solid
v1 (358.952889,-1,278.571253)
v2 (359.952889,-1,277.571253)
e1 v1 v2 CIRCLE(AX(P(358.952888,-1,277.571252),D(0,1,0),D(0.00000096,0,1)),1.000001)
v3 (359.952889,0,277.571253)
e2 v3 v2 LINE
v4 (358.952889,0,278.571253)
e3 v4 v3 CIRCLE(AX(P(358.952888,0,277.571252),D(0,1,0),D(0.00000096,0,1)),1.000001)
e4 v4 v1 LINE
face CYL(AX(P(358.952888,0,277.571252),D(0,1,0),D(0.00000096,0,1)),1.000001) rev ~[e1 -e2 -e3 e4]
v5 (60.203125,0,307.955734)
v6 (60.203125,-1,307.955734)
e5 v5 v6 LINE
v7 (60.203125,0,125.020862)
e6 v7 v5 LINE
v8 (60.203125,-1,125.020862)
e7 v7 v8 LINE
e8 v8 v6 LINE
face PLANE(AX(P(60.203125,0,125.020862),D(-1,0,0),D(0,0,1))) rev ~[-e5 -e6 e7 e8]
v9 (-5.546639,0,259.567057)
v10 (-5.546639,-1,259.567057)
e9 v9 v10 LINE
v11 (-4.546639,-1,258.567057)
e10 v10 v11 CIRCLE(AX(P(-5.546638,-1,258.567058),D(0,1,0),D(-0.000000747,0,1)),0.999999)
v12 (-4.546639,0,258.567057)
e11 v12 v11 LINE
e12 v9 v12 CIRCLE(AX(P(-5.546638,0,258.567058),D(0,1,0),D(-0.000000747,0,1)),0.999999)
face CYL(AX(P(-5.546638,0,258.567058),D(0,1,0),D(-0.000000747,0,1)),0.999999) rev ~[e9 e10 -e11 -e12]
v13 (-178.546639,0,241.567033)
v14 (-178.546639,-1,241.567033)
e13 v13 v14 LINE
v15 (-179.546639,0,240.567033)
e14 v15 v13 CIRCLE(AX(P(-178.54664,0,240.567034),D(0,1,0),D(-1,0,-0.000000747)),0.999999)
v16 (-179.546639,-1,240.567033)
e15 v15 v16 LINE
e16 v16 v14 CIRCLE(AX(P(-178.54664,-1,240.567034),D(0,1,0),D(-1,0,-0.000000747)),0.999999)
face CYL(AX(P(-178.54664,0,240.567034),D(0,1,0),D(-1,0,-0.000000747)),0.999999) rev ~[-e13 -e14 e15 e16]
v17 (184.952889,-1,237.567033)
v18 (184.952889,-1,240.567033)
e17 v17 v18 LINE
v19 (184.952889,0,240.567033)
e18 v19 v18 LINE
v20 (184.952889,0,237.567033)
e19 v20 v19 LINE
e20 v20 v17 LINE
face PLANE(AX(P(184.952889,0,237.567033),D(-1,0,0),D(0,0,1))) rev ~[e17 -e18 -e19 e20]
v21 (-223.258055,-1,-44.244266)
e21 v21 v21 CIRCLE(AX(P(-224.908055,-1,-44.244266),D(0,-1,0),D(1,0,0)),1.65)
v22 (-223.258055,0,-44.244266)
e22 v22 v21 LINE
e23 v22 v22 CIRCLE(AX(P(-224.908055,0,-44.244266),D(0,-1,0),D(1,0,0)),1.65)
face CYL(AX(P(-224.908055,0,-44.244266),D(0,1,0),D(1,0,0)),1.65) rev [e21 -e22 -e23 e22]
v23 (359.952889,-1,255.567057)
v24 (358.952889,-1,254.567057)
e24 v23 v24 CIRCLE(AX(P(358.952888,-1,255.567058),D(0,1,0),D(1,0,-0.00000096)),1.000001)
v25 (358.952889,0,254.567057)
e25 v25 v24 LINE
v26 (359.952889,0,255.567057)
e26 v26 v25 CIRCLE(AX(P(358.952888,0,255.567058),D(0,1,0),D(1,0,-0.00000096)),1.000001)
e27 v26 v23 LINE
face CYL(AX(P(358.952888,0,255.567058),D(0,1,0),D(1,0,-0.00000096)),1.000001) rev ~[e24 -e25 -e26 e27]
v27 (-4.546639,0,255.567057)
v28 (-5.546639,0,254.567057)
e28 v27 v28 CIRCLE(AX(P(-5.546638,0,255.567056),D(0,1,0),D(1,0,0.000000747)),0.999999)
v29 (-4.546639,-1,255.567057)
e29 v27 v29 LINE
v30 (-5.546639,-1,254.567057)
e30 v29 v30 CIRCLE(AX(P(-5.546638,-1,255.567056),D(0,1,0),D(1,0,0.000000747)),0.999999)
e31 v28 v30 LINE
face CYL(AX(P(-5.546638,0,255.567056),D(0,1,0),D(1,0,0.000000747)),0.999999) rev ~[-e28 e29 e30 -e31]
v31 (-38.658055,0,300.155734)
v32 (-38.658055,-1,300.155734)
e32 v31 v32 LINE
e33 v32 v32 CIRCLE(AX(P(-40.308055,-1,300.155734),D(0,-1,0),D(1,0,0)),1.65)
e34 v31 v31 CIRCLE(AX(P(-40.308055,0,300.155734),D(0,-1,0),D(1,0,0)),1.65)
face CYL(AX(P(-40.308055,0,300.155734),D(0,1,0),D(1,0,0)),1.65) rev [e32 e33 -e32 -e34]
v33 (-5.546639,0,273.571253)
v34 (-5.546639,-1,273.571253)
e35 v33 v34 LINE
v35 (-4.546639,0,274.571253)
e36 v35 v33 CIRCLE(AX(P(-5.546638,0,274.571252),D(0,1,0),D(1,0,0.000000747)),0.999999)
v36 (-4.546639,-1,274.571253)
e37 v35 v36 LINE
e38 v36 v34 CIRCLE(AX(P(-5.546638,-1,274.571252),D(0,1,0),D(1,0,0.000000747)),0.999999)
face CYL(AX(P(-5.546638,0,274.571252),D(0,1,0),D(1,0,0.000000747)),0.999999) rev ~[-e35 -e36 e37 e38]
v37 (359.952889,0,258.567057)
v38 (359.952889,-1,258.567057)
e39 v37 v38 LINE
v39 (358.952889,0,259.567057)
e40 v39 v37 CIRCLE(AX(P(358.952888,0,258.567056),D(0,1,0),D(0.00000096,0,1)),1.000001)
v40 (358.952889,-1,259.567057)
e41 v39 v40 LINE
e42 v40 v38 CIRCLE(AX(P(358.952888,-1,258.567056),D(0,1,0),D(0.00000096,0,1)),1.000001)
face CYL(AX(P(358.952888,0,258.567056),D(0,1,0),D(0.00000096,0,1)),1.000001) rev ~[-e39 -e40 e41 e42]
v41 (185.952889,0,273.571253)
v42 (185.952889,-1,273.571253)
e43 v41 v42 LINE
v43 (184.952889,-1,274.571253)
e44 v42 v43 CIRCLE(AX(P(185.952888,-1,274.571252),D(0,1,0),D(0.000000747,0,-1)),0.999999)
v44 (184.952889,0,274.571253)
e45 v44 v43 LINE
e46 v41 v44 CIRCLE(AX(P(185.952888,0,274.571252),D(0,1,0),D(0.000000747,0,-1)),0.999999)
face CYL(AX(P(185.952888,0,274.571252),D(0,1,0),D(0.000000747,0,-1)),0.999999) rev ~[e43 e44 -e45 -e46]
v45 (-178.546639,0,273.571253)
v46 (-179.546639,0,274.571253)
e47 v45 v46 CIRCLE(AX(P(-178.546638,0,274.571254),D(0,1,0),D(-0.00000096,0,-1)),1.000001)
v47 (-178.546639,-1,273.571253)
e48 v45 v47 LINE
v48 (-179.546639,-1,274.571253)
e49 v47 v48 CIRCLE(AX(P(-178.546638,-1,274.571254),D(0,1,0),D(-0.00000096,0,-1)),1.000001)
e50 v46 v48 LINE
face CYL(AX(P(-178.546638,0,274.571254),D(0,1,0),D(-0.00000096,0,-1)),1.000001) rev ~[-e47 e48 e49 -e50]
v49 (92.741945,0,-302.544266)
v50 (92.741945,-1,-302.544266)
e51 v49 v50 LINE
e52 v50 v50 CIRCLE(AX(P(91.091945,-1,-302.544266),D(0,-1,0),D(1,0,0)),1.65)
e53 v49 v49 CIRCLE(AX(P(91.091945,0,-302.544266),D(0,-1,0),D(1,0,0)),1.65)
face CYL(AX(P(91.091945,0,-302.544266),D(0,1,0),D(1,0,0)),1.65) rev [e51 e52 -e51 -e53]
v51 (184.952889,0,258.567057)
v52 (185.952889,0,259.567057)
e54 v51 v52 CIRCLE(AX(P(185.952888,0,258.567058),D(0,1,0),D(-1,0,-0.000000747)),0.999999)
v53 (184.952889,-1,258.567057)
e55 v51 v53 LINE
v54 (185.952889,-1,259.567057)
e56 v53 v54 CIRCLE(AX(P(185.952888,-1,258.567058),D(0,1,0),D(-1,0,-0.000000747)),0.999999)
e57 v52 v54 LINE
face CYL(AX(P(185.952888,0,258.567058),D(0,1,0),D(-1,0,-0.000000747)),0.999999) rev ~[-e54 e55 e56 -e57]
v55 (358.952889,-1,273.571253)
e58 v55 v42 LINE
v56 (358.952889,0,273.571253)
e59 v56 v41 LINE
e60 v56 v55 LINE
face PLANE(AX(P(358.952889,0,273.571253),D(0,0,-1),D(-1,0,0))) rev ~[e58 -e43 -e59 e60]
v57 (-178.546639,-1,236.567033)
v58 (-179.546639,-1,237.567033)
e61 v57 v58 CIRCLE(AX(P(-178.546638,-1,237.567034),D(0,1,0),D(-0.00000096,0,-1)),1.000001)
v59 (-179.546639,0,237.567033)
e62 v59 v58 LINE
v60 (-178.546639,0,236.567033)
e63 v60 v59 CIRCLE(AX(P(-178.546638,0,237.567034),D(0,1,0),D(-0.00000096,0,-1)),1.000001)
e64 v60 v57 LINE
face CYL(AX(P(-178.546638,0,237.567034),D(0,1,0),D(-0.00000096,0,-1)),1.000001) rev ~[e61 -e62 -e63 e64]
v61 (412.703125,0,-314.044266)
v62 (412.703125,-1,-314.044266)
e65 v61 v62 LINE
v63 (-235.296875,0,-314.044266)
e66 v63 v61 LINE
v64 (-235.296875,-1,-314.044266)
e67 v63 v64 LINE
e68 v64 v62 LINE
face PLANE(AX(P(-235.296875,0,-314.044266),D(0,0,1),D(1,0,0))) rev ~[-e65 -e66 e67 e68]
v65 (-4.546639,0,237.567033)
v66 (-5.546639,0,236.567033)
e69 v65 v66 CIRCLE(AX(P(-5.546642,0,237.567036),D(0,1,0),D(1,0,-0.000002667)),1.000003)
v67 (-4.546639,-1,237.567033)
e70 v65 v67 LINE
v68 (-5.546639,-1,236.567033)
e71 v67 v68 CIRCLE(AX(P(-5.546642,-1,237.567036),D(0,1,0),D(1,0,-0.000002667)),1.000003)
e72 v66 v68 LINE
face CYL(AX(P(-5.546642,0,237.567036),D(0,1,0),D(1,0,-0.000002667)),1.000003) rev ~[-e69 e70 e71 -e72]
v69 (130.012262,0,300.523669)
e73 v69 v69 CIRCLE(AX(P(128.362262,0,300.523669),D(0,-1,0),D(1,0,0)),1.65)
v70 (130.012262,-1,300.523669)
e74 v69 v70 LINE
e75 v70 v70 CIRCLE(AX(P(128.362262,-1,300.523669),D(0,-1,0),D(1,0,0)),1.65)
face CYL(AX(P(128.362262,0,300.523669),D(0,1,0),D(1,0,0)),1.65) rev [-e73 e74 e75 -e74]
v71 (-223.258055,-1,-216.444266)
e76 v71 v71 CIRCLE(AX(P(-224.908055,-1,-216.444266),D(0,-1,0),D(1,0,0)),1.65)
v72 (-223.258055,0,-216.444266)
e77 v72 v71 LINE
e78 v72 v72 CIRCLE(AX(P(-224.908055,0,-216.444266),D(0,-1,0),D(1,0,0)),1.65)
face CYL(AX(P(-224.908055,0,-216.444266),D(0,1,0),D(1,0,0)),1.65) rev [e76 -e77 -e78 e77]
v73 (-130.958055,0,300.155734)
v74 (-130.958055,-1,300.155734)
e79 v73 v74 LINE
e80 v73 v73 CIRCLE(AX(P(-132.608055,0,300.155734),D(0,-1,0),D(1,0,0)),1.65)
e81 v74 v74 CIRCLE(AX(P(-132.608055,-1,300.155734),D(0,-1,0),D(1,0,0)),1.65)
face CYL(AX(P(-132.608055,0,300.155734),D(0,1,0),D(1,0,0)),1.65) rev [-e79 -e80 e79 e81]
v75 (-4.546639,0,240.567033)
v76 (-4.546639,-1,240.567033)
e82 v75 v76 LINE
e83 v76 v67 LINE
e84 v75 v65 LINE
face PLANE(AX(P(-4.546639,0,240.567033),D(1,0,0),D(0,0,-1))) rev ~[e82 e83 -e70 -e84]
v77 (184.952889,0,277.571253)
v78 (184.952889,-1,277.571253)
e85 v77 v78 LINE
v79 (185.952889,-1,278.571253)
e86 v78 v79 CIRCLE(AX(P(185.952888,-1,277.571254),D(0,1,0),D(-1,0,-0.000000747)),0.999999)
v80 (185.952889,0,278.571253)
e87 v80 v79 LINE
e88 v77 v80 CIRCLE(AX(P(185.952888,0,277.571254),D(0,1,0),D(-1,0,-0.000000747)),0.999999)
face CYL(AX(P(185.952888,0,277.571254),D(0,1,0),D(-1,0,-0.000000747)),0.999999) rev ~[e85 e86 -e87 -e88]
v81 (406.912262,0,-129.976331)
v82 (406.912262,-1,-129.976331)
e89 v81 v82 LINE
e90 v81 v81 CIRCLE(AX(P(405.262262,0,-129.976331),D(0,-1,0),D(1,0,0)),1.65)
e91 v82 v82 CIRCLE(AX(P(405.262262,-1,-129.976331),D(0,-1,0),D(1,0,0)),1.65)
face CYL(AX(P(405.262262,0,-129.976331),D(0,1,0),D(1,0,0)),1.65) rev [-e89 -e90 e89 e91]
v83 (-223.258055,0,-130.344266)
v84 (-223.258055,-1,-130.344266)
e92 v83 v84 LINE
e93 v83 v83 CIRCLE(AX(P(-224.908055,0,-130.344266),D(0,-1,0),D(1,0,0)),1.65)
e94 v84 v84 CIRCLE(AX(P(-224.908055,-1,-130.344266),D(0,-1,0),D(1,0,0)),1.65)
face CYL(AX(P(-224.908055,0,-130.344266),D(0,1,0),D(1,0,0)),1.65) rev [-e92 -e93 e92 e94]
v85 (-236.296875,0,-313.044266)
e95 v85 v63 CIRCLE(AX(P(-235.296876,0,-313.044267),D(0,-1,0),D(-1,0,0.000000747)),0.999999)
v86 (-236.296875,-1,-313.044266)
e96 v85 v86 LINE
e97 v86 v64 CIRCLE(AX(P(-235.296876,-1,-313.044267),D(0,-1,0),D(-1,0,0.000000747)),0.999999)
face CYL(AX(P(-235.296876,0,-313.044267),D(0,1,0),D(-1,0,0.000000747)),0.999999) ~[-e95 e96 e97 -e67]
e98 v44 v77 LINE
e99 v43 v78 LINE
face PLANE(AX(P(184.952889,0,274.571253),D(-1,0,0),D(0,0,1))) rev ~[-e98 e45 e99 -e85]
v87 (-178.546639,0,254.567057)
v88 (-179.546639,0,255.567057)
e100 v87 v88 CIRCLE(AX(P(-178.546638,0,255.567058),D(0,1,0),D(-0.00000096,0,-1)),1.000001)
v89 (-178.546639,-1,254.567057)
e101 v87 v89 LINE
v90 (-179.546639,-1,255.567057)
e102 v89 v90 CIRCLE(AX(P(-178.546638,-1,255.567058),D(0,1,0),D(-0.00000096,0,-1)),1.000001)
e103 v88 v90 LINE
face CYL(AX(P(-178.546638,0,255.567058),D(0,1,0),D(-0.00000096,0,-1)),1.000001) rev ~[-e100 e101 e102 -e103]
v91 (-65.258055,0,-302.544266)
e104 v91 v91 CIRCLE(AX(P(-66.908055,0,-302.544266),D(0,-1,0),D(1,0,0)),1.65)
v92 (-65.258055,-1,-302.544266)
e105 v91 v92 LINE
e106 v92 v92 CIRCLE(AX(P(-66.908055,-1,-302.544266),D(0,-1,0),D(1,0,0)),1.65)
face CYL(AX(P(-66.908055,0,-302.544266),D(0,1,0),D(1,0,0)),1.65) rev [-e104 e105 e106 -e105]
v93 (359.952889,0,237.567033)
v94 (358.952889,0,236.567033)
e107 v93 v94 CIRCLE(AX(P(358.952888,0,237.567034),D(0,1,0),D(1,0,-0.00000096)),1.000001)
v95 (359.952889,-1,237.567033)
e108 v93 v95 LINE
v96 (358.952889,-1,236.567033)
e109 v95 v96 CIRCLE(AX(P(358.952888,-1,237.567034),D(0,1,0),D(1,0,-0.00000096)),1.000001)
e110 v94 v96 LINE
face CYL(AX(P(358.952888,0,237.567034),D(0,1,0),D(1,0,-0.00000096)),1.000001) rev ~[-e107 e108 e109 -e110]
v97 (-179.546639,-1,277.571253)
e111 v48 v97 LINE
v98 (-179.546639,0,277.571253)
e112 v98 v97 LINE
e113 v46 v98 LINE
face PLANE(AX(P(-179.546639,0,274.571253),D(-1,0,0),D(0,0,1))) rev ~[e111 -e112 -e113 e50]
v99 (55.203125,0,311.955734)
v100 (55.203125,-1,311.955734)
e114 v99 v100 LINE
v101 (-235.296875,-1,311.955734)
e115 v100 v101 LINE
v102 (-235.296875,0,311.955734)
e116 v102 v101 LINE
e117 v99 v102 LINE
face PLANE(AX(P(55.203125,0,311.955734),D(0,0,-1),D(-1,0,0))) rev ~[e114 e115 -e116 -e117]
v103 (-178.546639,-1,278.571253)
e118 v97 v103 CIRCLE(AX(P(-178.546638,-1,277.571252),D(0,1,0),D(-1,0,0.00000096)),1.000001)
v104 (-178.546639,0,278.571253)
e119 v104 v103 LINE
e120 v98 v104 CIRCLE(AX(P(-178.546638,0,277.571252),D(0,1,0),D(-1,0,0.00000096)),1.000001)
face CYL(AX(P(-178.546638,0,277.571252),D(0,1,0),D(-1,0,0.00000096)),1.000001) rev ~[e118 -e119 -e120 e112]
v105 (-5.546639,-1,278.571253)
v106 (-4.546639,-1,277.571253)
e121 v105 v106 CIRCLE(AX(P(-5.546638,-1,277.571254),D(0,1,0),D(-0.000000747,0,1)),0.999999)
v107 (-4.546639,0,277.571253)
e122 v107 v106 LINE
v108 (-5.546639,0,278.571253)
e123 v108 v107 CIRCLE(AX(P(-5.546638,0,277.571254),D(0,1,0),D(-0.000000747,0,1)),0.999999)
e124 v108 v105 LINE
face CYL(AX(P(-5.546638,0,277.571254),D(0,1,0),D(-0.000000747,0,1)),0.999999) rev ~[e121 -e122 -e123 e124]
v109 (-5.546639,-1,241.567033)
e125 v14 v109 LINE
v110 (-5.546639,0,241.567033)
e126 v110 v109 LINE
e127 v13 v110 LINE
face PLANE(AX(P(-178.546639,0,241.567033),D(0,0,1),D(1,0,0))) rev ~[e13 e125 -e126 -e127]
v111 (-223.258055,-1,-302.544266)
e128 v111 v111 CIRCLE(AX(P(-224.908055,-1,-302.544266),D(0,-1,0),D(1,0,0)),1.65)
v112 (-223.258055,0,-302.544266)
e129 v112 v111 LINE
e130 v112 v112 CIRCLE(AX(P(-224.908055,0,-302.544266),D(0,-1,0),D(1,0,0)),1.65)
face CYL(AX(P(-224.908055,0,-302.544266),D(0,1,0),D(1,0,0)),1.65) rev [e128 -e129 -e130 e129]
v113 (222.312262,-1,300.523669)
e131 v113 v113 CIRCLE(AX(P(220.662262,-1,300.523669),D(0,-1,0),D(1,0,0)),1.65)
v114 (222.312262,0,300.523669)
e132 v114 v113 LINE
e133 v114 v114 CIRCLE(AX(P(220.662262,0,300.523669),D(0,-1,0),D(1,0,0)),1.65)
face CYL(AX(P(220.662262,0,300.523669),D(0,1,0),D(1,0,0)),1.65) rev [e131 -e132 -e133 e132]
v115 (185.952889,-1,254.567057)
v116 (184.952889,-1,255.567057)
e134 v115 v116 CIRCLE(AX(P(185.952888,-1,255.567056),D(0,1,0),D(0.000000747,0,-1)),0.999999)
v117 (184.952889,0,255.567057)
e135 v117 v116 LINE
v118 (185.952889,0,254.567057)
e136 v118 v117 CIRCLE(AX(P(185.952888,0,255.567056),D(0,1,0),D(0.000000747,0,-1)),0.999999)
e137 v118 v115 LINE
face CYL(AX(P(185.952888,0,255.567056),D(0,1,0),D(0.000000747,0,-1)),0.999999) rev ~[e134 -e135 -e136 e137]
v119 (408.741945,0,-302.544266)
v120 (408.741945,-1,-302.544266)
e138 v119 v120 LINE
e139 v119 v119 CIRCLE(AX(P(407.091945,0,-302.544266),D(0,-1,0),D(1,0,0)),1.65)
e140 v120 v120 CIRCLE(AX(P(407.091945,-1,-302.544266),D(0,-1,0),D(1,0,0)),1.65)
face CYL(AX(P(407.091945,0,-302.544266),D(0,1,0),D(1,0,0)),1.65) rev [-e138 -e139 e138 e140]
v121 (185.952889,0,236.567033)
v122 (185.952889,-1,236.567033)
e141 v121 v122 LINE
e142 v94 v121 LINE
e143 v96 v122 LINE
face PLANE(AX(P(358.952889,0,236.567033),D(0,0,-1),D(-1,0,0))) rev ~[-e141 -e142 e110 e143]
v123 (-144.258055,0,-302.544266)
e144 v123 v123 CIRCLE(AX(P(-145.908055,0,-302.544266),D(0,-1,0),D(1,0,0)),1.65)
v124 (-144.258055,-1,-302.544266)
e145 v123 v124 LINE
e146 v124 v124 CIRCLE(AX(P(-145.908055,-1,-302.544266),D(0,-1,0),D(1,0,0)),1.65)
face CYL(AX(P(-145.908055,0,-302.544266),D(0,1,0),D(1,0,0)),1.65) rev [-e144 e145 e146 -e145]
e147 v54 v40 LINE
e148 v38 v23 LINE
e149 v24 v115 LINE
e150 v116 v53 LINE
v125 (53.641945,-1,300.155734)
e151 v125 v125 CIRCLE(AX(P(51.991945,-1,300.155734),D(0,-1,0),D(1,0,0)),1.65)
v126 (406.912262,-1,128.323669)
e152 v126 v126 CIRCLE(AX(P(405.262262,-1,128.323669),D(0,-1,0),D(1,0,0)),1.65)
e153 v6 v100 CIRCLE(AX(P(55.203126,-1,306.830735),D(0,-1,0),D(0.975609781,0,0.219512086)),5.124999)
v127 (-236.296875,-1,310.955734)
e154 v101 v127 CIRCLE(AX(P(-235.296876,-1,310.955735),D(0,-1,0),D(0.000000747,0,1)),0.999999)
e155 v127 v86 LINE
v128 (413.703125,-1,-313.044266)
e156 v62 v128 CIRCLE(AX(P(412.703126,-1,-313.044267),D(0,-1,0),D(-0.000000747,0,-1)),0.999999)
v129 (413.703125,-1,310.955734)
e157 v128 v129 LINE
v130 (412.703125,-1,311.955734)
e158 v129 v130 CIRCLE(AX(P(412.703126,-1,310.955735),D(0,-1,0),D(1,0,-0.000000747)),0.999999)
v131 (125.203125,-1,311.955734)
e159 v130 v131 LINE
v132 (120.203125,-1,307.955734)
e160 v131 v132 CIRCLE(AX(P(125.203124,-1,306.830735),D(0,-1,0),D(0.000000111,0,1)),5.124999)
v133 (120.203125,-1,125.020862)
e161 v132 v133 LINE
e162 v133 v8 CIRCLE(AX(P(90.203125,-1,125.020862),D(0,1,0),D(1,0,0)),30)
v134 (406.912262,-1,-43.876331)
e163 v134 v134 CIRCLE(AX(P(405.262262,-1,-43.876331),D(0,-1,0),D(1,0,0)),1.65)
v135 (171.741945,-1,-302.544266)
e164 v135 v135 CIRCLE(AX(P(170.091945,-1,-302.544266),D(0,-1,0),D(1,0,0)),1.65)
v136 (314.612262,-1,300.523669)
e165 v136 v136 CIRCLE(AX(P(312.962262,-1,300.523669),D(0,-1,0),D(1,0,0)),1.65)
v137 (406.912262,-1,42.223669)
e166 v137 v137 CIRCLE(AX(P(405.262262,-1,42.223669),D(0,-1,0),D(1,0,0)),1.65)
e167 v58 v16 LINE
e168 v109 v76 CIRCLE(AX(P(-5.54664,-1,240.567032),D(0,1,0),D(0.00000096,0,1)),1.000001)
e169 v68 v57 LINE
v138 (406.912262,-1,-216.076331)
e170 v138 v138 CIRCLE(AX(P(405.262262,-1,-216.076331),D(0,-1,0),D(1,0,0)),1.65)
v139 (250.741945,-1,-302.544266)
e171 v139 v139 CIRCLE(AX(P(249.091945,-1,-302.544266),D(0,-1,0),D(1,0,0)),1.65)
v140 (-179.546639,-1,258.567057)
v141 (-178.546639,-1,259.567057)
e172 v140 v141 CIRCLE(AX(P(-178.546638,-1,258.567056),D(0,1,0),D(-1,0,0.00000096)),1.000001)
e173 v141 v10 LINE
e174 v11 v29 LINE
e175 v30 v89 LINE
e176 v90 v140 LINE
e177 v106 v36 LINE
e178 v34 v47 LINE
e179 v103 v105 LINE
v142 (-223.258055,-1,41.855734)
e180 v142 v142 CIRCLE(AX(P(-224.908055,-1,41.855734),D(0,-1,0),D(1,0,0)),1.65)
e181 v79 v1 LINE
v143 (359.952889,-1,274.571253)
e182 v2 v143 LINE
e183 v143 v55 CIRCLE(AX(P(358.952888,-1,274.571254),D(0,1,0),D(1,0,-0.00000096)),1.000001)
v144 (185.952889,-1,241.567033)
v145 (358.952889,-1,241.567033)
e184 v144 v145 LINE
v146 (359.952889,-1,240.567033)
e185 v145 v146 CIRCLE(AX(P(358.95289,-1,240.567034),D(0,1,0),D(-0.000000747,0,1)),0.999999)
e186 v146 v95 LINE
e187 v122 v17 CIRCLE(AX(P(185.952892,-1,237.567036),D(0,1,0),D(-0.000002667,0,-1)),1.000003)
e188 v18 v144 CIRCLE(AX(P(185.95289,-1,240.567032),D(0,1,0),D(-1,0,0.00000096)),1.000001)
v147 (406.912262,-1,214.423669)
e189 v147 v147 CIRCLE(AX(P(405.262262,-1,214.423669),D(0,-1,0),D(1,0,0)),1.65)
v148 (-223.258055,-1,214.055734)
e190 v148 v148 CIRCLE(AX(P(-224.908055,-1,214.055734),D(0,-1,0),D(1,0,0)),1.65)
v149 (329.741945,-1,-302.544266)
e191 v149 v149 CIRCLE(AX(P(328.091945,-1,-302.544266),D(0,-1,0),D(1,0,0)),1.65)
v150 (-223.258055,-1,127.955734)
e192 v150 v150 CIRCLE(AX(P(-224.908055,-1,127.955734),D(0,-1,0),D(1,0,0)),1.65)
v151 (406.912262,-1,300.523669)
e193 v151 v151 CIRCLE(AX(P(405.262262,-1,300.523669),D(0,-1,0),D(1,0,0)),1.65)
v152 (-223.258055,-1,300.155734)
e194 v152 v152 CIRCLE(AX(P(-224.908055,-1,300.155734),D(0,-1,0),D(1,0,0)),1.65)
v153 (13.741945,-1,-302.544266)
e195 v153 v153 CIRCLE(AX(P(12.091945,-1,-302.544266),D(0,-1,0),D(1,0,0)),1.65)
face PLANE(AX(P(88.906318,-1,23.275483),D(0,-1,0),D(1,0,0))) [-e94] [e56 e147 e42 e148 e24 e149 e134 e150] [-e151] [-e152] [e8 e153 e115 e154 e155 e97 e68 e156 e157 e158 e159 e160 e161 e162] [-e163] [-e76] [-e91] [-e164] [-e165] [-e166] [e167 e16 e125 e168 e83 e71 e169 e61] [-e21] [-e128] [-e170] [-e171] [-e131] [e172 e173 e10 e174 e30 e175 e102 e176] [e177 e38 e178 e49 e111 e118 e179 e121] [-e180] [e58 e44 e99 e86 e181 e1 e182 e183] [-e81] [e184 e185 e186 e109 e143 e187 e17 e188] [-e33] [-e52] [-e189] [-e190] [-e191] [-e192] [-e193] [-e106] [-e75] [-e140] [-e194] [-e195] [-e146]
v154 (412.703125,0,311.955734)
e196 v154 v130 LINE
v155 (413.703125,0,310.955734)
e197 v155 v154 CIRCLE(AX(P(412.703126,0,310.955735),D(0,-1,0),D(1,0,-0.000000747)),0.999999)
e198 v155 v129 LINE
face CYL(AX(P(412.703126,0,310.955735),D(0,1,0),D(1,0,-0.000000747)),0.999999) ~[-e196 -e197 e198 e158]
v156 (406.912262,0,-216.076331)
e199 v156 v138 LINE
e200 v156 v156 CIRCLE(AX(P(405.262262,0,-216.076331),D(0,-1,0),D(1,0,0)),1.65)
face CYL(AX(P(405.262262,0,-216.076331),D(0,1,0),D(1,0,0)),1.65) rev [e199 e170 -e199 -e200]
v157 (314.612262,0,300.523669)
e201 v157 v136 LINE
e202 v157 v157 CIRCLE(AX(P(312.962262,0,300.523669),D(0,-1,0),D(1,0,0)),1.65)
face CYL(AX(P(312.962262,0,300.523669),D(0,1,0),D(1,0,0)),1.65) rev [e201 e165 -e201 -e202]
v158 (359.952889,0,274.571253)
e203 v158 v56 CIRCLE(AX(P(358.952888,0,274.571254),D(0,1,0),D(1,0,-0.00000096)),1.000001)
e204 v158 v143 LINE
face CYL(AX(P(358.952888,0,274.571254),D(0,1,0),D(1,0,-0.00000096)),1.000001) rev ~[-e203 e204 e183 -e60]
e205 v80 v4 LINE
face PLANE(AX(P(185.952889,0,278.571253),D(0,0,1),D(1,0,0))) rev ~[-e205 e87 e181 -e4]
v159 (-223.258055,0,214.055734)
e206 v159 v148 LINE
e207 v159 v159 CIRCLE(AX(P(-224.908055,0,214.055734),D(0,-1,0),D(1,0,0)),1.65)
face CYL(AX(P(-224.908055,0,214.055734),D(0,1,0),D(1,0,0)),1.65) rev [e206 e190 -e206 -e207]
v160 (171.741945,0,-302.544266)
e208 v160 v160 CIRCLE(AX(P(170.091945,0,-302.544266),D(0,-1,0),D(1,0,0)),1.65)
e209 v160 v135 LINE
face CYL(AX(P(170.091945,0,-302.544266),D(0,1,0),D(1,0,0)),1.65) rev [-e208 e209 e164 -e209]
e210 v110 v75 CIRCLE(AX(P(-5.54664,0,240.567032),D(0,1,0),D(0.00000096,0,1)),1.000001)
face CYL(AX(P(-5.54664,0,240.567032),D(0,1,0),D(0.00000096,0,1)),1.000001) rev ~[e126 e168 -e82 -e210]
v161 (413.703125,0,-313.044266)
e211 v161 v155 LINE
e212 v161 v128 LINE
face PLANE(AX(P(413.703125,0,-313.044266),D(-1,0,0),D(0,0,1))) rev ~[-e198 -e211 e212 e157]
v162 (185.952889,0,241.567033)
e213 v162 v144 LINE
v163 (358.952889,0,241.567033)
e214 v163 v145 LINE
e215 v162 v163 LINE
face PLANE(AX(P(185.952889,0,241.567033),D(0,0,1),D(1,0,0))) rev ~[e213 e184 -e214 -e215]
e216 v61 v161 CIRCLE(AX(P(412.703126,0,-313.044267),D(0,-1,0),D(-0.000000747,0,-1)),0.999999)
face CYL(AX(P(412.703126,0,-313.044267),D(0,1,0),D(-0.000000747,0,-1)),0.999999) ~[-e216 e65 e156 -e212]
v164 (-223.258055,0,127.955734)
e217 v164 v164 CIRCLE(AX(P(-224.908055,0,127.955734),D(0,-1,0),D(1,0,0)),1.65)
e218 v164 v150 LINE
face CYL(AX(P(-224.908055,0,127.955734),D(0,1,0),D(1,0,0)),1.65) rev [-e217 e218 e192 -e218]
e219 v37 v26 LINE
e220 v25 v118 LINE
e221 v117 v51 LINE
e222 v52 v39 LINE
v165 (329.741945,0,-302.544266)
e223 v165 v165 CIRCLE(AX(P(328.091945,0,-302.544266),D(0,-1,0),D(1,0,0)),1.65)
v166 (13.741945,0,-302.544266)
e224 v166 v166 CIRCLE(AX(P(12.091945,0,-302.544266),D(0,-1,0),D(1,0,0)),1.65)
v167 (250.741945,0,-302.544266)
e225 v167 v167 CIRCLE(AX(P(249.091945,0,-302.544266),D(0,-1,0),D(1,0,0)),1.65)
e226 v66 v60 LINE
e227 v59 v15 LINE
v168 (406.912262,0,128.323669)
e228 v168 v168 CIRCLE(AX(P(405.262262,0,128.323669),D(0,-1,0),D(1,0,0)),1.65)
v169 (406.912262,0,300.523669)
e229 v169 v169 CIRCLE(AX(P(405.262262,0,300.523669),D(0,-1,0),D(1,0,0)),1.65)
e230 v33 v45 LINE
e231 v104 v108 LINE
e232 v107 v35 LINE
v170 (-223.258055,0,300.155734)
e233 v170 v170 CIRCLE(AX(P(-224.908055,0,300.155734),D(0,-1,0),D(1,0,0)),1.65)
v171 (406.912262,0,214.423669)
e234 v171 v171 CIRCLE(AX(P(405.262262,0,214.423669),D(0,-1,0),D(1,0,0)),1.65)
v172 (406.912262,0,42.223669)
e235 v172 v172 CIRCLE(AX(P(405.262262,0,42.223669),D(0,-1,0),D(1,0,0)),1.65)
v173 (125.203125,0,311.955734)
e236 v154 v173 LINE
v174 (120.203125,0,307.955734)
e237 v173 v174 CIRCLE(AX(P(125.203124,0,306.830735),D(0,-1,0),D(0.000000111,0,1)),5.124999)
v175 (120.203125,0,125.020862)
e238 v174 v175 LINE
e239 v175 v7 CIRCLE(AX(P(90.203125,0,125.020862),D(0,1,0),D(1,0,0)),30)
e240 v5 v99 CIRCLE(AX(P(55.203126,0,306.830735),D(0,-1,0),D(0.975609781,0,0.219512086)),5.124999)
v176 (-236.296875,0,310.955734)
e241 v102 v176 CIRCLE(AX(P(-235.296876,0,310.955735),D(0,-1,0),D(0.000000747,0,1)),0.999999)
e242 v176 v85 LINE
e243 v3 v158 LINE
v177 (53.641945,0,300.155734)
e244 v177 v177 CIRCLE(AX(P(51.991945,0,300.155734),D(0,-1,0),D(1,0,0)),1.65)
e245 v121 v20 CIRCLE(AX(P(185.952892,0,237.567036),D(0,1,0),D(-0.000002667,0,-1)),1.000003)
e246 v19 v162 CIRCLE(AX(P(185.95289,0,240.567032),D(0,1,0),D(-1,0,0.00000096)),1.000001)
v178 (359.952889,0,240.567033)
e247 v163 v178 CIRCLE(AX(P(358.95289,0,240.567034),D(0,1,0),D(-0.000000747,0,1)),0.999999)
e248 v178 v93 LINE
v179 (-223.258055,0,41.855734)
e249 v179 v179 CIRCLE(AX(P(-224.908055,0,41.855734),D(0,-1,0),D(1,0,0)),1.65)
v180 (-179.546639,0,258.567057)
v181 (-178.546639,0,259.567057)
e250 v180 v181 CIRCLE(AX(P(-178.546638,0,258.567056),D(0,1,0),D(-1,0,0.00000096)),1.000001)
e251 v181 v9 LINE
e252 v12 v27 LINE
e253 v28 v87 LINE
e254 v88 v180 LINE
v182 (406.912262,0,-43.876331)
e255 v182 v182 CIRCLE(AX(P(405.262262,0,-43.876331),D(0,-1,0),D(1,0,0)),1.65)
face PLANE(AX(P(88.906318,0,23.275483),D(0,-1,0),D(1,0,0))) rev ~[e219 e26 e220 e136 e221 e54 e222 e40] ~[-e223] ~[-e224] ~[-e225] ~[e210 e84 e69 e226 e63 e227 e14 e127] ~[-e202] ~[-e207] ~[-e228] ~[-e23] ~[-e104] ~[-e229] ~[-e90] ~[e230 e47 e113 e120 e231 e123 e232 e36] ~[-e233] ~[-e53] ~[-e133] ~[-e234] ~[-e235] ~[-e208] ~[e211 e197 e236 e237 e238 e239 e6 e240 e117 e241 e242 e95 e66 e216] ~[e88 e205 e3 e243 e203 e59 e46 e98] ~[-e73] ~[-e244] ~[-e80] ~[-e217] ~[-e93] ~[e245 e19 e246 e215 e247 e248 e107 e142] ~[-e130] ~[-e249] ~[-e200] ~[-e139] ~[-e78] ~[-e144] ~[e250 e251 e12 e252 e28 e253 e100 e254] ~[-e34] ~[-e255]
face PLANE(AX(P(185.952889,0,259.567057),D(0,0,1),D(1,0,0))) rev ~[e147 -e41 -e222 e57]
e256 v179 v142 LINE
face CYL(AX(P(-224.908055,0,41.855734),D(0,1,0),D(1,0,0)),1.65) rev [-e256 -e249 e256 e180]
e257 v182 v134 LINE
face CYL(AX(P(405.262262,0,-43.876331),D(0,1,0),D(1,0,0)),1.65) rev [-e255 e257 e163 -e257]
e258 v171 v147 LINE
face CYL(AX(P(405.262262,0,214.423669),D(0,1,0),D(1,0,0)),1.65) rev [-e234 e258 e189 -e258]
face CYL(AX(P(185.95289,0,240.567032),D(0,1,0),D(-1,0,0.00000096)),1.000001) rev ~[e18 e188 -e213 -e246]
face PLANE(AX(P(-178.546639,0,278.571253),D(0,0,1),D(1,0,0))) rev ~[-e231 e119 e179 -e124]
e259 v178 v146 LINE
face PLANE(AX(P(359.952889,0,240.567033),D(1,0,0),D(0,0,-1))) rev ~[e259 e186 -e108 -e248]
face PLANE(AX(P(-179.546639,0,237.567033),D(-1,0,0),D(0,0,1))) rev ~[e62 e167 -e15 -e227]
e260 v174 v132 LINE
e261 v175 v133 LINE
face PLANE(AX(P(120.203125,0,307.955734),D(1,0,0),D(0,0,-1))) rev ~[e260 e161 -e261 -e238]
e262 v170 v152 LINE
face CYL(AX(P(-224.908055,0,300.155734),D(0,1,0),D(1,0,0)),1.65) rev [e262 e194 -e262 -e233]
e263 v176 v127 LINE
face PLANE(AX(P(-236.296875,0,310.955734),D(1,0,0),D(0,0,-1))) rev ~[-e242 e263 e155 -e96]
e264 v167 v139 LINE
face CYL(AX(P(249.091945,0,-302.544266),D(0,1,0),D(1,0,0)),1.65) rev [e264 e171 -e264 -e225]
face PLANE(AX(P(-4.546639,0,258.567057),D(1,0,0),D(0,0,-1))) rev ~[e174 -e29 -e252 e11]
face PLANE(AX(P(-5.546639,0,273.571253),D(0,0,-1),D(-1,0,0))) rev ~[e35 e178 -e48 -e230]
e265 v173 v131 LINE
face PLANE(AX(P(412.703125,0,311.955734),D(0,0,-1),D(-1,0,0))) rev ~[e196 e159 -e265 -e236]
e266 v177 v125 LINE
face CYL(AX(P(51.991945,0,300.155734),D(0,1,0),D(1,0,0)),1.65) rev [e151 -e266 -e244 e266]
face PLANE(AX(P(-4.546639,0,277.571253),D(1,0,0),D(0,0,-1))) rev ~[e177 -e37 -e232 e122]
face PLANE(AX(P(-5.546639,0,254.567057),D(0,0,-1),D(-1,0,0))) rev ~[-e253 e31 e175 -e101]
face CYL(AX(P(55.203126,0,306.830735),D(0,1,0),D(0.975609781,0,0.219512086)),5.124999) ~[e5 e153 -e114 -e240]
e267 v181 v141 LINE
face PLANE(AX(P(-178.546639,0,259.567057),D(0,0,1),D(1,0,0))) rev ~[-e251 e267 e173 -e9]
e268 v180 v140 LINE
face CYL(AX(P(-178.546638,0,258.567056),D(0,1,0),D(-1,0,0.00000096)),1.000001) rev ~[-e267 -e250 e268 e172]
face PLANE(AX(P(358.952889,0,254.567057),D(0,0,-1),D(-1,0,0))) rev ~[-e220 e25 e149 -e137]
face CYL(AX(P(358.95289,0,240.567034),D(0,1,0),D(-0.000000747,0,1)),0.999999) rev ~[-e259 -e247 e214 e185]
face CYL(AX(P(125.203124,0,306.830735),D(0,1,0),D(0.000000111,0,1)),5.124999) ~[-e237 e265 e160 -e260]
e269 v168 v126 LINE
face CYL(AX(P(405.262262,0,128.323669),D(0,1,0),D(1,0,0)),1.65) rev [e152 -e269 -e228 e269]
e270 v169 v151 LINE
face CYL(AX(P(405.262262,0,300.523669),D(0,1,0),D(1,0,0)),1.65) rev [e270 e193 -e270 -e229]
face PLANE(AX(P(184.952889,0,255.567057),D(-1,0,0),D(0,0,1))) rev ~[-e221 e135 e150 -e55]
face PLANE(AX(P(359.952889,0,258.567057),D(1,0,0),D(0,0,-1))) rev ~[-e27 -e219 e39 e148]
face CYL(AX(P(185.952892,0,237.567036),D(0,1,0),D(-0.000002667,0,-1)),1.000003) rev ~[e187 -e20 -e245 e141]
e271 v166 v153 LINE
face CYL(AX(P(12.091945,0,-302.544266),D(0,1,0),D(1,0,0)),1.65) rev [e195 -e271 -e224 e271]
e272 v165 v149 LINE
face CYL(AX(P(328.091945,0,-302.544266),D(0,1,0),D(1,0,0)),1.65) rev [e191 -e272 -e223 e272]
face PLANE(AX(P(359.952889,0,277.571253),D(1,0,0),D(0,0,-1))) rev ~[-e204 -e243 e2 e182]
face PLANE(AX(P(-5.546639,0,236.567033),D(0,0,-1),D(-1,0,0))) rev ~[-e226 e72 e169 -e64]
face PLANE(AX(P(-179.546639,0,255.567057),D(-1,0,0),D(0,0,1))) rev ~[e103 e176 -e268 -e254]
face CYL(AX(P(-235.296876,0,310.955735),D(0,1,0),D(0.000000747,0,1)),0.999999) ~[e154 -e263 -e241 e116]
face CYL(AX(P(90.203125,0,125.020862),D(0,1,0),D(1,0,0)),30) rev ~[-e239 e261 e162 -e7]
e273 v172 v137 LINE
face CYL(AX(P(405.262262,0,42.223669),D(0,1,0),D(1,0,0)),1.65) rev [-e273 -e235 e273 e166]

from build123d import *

# Parameters (mm, degrees)
F0_R     = 1.65
F1_DEPTH = 1


with BuildPart() as f1:
    # F0 (on Front) → F1 (new body)
    with BuildSketch(Plane.XZ):
        with BuildLine():
            ThreePointArc((120.203125, 125.020862), (90.203125, 95.020862), (60.203125, 125.020862))
            Line((60.203125, 125.020862), (60.203125, 307.955734))
            ThreePointArc((60.203125, 307.955734), (58.404687, 310.832687), (55.203125, 311.955734))
            Line((55.203125, 311.955734), (-235.296875, 311.955734))
            ThreePointArc((-235.296875, 311.955734), (-236.003982, 311.662841), (-236.296875, 310.955734))
            Line((-236.296875, 310.955734), (-236.296875, -313.044266))
            ThreePointArc((-236.296875, -313.044266), (-236.003982, -313.751373), (-235.296875, -314.044266))
            Line((-235.296875, -314.044266), (412.703125, -314.044266))
            ThreePointArc((412.703125, -314.044266), (413.410232, -313.751373), (413.703125, -313.044266))
            Line((413.703125, -313.044266), (413.703125, 310.955734))
            ThreePointArc((413.703125, 310.955734), (413.410232, 311.662841), (412.703125, 311.955734))
            Line((412.703125, 311.955734), (125.203125, 311.955734))
            ThreePointArc((125.203125, 311.955734), (122.001563, 310.832687), (120.203125, 307.955734))
            Line((120.203125, 307.955734), (120.203125, 125.020862))
        make_face()
        with Locations((-224.908055, -302.544266)):
            Circle(F0_R, mode=Mode.SUBTRACT)
        with Locations((-145.908055, -302.544266)):
            Circle(F0_R, mode=Mode.SUBTRACT)
        with Locations((-224.908055, -216.444266)):
            Circle(F0_R, mode=Mode.SUBTRACT)
        with Locations((-66.908055, -302.544266)):
            Circle(F0_R, mode=Mode.SUBTRACT)
        with Locations((12.091945, -302.544266)):
            Circle(F0_R, mode=Mode.SUBTRACT)
        with Locations((-224.908055, -130.344266)):
            Circle(F0_R, mode=Mode.SUBTRACT)
        with Locations((-224.908055, -44.244266)):
            Circle(F0_R, mode=Mode.SUBTRACT)
        with Locations((91.091945, -302.544266)):
            Circle(F0_R, mode=Mode.SUBTRACT)
        with Locations((170.091945, -302.544266)):
            Circle(F0_R, mode=Mode.SUBTRACT)
        with Locations((249.091945, -302.544266)):
            Circle(F0_R, mode=Mode.SUBTRACT)
        with Locations((328.091945, -302.544266)):
            Circle(F0_R, mode=Mode.SUBTRACT)
        with Locations((407.091945, -302.544266)):
            Circle(F0_R, mode=Mode.SUBTRACT)
        with Locations((405.262262, -216.076331)):
            Circle(F0_R, mode=Mode.SUBTRACT)
        with Locations((405.262262, -129.976331)):
            Circle(F0_R, mode=Mode.SUBTRACT)
        with Locations((405.262262, -43.876331)):
            Circle(F0_R, mode=Mode.SUBTRACT)
        with Locations((-224.908055, 41.855734)):
            Circle(F0_R, mode=Mode.SUBTRACT)
        with Locations((-224.908055, 127.955734)):
            Circle(F0_R, mode=Mode.SUBTRACT)
        with Locations((-224.908055, 214.055734)):
            Circle(F0_R, mode=Mode.SUBTRACT)
        with Locations((-224.908055, 300.155734)):
            Circle(F0_R, mode=Mode.SUBTRACT)
        with BuildLine():
            ThreePointArc((-179.546639, 240.567033), (-179.253746, 241.27414), (-178.546639, 241.567033))
            Line((-178.546639, 241.567033), (-5.546639, 241.567033))
            ThreePointArc((-5.546639, 241.567033), (-4.839533, 241.27414), (-4.546639, 240.567033))
            Line((-4.546639, 240.567033), (-4.546639, 237.567033))
            ThreePointArc((-4.546639, 237.567033), (-4.839533, 236.859927), (-5.546639, 236.567033))
            Line((-5.546639, 236.567033), (-178.546639, 236.567033))
            ThreePointArc((-178.546639, 236.567033), (-179.253746, 236.859927), (-179.546639, 237.567033))
            Line((-179.546639, 237.567033), (-179.546639, 240.567033))
        make_face(mode=Mode.SUBTRACT)
        with BuildLine():
            ThreePointArc((-179.546639, 258.567057), (-179.253745, 259.274164), (-178.546639, 259.567057))
            Line((-178.546639, 259.567057), (-5.546639, 259.567057))
            ThreePointArc((-5.546639, 259.567057), (-4.839532, 259.274164), (-4.546639, 258.567057))
            Line((-4.546639, 258.567057), (-4.546639, 255.567057))
            ThreePointArc((-4.546639, 255.567057), (-4.839532, 254.85995), (-5.546639, 254.567057))
            Line((-5.546639, 254.567057), (-178.546639, 254.567057))
            ThreePointArc((-178.546639, 254.567057), (-179.253745, 254.85995), (-179.546639, 255.567057))
            Line((-179.546639, 255.567057), (-179.546639, 258.567057))
        make_face(mode=Mode.SUBTRACT)
        with Locations((-132.608055, 300.155734)):
            Circle(F0_R, mode=Mode.SUBTRACT)
        with BuildLine():
            ThreePointArc((-179.546639, 277.571253), (-179.253745, 278.27836), (-178.546639, 278.571253))
            Line((-178.546639, 278.571253), (-5.546639, 278.571253))
            ThreePointArc((-5.546639, 278.571253), (-4.839532, 278.27836), (-4.546639, 277.571253))
            Line((-4.546639, 277.571253), (-4.546639, 274.571253))
            ThreePointArc((-4.546639, 274.571253), (-4.839532, 273.864146), (-5.546639, 273.571253))
            Line((-5.546639, 273.571253), (-178.546639, 273.571253))
            ThreePointArc((-178.546639, 273.571253), (-179.253745, 273.864146), (-179.546639, 274.571253))
            Line((-179.546639, 274.571253), (-179.546639, 277.571253))
        make_face(mode=Mode.SUBTRACT)
        with Locations((-40.308055, 300.155734)):
            Circle(F0_R, mode=Mode.SUBTRACT)
        with Locations((51.991945, 300.155734)):
            Circle(F0_R, mode=Mode.SUBTRACT)
        with Locations((405.262262, 42.223669)):
            Circle(F0_R, mode=Mode.SUBTRACT)
        with Locations((405.262262, 128.323669)):
            Circle(F0_R, mode=Mode.SUBTRACT)
        with Locations((128.362262, 300.523669)):
            Circle(F0_R, mode=Mode.SUBTRACT)
        with Locations((220.662262, 300.523669)):
            Circle(F0_R, mode=Mode.SUBTRACT)
        with Locations((405.262262, 214.423669)):
            Circle(F0_R, mode=Mode.SUBTRACT)
        with BuildLine():
            Line((184.952889, 237.567033), (184.952889, 240.567033))
            ThreePointArc((184.952889, 240.567033), (185.245783, 241.27414), (185.952889, 241.567033))
            Line((185.952889, 241.567033), (358.952889, 241.567033))
            ThreePointArc((358.952889, 241.567033), (359.659996, 241.27414), (359.952889, 240.567033))
            Line((359.952889, 240.567033), (359.952889, 237.567033))
            ThreePointArc((359.952889, 237.567033), (359.659996, 236.859927), (358.952889, 236.567033))
            Line((358.952889, 236.567033), (185.952889, 236.567033))
            ThreePointArc((185.952889, 236.567033), (185.245783, 236.859927), (184.952889, 237.567033))
        make_face(mode=Mode.SUBTRACT)
        with BuildLine():
            Line((184.952889, 255.567057), (184.952889, 258.567057))
            ThreePointArc((184.952889, 258.567057), (185.245782, 259.274164), (185.952889, 259.567057))
            Line((185.952889, 259.567057), (358.952889, 259.567057))
            ThreePointArc((358.952889, 259.567057), (359.659995, 259.274164), (359.952889, 258.567057))
            Line((359.952889, 258.567057), (359.952889, 255.567057))
            ThreePointArc((359.952889, 255.567057), (359.659995, 254.85995), (358.952889, 254.567057))
            Line((358.952889, 254.567057), (185.952889, 254.567057))
            ThreePointArc((185.952889, 254.567057), (185.245782, 254.85995), (184.952889, 255.567057))
        make_face(mode=Mode.SUBTRACT)
        with BuildLine():
            Line((184.952889, 274.571253), (184.952889, 277.571253))
            ThreePointArc((184.952889, 277.571253), (185.245782, 278.27836), (185.952889, 278.571253))
            Line((185.952889, 278.571253), (358.952889, 278.571253))
            ThreePointArc((358.952889, 278.571253), (359.659995, 278.27836), (359.952889, 277.571253))
            Line((359.952889, 277.571253), (359.952889, 274.571253))
            ThreePointArc((359.952889, 274.571253), (359.659995, 273.864146), (358.952889, 273.571253))
            Line((358.952889, 273.571253), (185.952889, 273.571253))
            ThreePointArc((185.952889, 273.571253), (185.245782, 273.864146), (184.952889, 274.571253))
        make_face(mode=Mode.SUBTRACT)
        with Locations((312.962262, 300.523669)):
            Circle(F0_R, mode=Mode.SUBTRACT)
        with Locations((405.262262, 300.523669)):
            Circle(F0_R, mode=Mode.SUBTRACT)
    extrude(amount=F1_DEPTH)


solid = f1.part
